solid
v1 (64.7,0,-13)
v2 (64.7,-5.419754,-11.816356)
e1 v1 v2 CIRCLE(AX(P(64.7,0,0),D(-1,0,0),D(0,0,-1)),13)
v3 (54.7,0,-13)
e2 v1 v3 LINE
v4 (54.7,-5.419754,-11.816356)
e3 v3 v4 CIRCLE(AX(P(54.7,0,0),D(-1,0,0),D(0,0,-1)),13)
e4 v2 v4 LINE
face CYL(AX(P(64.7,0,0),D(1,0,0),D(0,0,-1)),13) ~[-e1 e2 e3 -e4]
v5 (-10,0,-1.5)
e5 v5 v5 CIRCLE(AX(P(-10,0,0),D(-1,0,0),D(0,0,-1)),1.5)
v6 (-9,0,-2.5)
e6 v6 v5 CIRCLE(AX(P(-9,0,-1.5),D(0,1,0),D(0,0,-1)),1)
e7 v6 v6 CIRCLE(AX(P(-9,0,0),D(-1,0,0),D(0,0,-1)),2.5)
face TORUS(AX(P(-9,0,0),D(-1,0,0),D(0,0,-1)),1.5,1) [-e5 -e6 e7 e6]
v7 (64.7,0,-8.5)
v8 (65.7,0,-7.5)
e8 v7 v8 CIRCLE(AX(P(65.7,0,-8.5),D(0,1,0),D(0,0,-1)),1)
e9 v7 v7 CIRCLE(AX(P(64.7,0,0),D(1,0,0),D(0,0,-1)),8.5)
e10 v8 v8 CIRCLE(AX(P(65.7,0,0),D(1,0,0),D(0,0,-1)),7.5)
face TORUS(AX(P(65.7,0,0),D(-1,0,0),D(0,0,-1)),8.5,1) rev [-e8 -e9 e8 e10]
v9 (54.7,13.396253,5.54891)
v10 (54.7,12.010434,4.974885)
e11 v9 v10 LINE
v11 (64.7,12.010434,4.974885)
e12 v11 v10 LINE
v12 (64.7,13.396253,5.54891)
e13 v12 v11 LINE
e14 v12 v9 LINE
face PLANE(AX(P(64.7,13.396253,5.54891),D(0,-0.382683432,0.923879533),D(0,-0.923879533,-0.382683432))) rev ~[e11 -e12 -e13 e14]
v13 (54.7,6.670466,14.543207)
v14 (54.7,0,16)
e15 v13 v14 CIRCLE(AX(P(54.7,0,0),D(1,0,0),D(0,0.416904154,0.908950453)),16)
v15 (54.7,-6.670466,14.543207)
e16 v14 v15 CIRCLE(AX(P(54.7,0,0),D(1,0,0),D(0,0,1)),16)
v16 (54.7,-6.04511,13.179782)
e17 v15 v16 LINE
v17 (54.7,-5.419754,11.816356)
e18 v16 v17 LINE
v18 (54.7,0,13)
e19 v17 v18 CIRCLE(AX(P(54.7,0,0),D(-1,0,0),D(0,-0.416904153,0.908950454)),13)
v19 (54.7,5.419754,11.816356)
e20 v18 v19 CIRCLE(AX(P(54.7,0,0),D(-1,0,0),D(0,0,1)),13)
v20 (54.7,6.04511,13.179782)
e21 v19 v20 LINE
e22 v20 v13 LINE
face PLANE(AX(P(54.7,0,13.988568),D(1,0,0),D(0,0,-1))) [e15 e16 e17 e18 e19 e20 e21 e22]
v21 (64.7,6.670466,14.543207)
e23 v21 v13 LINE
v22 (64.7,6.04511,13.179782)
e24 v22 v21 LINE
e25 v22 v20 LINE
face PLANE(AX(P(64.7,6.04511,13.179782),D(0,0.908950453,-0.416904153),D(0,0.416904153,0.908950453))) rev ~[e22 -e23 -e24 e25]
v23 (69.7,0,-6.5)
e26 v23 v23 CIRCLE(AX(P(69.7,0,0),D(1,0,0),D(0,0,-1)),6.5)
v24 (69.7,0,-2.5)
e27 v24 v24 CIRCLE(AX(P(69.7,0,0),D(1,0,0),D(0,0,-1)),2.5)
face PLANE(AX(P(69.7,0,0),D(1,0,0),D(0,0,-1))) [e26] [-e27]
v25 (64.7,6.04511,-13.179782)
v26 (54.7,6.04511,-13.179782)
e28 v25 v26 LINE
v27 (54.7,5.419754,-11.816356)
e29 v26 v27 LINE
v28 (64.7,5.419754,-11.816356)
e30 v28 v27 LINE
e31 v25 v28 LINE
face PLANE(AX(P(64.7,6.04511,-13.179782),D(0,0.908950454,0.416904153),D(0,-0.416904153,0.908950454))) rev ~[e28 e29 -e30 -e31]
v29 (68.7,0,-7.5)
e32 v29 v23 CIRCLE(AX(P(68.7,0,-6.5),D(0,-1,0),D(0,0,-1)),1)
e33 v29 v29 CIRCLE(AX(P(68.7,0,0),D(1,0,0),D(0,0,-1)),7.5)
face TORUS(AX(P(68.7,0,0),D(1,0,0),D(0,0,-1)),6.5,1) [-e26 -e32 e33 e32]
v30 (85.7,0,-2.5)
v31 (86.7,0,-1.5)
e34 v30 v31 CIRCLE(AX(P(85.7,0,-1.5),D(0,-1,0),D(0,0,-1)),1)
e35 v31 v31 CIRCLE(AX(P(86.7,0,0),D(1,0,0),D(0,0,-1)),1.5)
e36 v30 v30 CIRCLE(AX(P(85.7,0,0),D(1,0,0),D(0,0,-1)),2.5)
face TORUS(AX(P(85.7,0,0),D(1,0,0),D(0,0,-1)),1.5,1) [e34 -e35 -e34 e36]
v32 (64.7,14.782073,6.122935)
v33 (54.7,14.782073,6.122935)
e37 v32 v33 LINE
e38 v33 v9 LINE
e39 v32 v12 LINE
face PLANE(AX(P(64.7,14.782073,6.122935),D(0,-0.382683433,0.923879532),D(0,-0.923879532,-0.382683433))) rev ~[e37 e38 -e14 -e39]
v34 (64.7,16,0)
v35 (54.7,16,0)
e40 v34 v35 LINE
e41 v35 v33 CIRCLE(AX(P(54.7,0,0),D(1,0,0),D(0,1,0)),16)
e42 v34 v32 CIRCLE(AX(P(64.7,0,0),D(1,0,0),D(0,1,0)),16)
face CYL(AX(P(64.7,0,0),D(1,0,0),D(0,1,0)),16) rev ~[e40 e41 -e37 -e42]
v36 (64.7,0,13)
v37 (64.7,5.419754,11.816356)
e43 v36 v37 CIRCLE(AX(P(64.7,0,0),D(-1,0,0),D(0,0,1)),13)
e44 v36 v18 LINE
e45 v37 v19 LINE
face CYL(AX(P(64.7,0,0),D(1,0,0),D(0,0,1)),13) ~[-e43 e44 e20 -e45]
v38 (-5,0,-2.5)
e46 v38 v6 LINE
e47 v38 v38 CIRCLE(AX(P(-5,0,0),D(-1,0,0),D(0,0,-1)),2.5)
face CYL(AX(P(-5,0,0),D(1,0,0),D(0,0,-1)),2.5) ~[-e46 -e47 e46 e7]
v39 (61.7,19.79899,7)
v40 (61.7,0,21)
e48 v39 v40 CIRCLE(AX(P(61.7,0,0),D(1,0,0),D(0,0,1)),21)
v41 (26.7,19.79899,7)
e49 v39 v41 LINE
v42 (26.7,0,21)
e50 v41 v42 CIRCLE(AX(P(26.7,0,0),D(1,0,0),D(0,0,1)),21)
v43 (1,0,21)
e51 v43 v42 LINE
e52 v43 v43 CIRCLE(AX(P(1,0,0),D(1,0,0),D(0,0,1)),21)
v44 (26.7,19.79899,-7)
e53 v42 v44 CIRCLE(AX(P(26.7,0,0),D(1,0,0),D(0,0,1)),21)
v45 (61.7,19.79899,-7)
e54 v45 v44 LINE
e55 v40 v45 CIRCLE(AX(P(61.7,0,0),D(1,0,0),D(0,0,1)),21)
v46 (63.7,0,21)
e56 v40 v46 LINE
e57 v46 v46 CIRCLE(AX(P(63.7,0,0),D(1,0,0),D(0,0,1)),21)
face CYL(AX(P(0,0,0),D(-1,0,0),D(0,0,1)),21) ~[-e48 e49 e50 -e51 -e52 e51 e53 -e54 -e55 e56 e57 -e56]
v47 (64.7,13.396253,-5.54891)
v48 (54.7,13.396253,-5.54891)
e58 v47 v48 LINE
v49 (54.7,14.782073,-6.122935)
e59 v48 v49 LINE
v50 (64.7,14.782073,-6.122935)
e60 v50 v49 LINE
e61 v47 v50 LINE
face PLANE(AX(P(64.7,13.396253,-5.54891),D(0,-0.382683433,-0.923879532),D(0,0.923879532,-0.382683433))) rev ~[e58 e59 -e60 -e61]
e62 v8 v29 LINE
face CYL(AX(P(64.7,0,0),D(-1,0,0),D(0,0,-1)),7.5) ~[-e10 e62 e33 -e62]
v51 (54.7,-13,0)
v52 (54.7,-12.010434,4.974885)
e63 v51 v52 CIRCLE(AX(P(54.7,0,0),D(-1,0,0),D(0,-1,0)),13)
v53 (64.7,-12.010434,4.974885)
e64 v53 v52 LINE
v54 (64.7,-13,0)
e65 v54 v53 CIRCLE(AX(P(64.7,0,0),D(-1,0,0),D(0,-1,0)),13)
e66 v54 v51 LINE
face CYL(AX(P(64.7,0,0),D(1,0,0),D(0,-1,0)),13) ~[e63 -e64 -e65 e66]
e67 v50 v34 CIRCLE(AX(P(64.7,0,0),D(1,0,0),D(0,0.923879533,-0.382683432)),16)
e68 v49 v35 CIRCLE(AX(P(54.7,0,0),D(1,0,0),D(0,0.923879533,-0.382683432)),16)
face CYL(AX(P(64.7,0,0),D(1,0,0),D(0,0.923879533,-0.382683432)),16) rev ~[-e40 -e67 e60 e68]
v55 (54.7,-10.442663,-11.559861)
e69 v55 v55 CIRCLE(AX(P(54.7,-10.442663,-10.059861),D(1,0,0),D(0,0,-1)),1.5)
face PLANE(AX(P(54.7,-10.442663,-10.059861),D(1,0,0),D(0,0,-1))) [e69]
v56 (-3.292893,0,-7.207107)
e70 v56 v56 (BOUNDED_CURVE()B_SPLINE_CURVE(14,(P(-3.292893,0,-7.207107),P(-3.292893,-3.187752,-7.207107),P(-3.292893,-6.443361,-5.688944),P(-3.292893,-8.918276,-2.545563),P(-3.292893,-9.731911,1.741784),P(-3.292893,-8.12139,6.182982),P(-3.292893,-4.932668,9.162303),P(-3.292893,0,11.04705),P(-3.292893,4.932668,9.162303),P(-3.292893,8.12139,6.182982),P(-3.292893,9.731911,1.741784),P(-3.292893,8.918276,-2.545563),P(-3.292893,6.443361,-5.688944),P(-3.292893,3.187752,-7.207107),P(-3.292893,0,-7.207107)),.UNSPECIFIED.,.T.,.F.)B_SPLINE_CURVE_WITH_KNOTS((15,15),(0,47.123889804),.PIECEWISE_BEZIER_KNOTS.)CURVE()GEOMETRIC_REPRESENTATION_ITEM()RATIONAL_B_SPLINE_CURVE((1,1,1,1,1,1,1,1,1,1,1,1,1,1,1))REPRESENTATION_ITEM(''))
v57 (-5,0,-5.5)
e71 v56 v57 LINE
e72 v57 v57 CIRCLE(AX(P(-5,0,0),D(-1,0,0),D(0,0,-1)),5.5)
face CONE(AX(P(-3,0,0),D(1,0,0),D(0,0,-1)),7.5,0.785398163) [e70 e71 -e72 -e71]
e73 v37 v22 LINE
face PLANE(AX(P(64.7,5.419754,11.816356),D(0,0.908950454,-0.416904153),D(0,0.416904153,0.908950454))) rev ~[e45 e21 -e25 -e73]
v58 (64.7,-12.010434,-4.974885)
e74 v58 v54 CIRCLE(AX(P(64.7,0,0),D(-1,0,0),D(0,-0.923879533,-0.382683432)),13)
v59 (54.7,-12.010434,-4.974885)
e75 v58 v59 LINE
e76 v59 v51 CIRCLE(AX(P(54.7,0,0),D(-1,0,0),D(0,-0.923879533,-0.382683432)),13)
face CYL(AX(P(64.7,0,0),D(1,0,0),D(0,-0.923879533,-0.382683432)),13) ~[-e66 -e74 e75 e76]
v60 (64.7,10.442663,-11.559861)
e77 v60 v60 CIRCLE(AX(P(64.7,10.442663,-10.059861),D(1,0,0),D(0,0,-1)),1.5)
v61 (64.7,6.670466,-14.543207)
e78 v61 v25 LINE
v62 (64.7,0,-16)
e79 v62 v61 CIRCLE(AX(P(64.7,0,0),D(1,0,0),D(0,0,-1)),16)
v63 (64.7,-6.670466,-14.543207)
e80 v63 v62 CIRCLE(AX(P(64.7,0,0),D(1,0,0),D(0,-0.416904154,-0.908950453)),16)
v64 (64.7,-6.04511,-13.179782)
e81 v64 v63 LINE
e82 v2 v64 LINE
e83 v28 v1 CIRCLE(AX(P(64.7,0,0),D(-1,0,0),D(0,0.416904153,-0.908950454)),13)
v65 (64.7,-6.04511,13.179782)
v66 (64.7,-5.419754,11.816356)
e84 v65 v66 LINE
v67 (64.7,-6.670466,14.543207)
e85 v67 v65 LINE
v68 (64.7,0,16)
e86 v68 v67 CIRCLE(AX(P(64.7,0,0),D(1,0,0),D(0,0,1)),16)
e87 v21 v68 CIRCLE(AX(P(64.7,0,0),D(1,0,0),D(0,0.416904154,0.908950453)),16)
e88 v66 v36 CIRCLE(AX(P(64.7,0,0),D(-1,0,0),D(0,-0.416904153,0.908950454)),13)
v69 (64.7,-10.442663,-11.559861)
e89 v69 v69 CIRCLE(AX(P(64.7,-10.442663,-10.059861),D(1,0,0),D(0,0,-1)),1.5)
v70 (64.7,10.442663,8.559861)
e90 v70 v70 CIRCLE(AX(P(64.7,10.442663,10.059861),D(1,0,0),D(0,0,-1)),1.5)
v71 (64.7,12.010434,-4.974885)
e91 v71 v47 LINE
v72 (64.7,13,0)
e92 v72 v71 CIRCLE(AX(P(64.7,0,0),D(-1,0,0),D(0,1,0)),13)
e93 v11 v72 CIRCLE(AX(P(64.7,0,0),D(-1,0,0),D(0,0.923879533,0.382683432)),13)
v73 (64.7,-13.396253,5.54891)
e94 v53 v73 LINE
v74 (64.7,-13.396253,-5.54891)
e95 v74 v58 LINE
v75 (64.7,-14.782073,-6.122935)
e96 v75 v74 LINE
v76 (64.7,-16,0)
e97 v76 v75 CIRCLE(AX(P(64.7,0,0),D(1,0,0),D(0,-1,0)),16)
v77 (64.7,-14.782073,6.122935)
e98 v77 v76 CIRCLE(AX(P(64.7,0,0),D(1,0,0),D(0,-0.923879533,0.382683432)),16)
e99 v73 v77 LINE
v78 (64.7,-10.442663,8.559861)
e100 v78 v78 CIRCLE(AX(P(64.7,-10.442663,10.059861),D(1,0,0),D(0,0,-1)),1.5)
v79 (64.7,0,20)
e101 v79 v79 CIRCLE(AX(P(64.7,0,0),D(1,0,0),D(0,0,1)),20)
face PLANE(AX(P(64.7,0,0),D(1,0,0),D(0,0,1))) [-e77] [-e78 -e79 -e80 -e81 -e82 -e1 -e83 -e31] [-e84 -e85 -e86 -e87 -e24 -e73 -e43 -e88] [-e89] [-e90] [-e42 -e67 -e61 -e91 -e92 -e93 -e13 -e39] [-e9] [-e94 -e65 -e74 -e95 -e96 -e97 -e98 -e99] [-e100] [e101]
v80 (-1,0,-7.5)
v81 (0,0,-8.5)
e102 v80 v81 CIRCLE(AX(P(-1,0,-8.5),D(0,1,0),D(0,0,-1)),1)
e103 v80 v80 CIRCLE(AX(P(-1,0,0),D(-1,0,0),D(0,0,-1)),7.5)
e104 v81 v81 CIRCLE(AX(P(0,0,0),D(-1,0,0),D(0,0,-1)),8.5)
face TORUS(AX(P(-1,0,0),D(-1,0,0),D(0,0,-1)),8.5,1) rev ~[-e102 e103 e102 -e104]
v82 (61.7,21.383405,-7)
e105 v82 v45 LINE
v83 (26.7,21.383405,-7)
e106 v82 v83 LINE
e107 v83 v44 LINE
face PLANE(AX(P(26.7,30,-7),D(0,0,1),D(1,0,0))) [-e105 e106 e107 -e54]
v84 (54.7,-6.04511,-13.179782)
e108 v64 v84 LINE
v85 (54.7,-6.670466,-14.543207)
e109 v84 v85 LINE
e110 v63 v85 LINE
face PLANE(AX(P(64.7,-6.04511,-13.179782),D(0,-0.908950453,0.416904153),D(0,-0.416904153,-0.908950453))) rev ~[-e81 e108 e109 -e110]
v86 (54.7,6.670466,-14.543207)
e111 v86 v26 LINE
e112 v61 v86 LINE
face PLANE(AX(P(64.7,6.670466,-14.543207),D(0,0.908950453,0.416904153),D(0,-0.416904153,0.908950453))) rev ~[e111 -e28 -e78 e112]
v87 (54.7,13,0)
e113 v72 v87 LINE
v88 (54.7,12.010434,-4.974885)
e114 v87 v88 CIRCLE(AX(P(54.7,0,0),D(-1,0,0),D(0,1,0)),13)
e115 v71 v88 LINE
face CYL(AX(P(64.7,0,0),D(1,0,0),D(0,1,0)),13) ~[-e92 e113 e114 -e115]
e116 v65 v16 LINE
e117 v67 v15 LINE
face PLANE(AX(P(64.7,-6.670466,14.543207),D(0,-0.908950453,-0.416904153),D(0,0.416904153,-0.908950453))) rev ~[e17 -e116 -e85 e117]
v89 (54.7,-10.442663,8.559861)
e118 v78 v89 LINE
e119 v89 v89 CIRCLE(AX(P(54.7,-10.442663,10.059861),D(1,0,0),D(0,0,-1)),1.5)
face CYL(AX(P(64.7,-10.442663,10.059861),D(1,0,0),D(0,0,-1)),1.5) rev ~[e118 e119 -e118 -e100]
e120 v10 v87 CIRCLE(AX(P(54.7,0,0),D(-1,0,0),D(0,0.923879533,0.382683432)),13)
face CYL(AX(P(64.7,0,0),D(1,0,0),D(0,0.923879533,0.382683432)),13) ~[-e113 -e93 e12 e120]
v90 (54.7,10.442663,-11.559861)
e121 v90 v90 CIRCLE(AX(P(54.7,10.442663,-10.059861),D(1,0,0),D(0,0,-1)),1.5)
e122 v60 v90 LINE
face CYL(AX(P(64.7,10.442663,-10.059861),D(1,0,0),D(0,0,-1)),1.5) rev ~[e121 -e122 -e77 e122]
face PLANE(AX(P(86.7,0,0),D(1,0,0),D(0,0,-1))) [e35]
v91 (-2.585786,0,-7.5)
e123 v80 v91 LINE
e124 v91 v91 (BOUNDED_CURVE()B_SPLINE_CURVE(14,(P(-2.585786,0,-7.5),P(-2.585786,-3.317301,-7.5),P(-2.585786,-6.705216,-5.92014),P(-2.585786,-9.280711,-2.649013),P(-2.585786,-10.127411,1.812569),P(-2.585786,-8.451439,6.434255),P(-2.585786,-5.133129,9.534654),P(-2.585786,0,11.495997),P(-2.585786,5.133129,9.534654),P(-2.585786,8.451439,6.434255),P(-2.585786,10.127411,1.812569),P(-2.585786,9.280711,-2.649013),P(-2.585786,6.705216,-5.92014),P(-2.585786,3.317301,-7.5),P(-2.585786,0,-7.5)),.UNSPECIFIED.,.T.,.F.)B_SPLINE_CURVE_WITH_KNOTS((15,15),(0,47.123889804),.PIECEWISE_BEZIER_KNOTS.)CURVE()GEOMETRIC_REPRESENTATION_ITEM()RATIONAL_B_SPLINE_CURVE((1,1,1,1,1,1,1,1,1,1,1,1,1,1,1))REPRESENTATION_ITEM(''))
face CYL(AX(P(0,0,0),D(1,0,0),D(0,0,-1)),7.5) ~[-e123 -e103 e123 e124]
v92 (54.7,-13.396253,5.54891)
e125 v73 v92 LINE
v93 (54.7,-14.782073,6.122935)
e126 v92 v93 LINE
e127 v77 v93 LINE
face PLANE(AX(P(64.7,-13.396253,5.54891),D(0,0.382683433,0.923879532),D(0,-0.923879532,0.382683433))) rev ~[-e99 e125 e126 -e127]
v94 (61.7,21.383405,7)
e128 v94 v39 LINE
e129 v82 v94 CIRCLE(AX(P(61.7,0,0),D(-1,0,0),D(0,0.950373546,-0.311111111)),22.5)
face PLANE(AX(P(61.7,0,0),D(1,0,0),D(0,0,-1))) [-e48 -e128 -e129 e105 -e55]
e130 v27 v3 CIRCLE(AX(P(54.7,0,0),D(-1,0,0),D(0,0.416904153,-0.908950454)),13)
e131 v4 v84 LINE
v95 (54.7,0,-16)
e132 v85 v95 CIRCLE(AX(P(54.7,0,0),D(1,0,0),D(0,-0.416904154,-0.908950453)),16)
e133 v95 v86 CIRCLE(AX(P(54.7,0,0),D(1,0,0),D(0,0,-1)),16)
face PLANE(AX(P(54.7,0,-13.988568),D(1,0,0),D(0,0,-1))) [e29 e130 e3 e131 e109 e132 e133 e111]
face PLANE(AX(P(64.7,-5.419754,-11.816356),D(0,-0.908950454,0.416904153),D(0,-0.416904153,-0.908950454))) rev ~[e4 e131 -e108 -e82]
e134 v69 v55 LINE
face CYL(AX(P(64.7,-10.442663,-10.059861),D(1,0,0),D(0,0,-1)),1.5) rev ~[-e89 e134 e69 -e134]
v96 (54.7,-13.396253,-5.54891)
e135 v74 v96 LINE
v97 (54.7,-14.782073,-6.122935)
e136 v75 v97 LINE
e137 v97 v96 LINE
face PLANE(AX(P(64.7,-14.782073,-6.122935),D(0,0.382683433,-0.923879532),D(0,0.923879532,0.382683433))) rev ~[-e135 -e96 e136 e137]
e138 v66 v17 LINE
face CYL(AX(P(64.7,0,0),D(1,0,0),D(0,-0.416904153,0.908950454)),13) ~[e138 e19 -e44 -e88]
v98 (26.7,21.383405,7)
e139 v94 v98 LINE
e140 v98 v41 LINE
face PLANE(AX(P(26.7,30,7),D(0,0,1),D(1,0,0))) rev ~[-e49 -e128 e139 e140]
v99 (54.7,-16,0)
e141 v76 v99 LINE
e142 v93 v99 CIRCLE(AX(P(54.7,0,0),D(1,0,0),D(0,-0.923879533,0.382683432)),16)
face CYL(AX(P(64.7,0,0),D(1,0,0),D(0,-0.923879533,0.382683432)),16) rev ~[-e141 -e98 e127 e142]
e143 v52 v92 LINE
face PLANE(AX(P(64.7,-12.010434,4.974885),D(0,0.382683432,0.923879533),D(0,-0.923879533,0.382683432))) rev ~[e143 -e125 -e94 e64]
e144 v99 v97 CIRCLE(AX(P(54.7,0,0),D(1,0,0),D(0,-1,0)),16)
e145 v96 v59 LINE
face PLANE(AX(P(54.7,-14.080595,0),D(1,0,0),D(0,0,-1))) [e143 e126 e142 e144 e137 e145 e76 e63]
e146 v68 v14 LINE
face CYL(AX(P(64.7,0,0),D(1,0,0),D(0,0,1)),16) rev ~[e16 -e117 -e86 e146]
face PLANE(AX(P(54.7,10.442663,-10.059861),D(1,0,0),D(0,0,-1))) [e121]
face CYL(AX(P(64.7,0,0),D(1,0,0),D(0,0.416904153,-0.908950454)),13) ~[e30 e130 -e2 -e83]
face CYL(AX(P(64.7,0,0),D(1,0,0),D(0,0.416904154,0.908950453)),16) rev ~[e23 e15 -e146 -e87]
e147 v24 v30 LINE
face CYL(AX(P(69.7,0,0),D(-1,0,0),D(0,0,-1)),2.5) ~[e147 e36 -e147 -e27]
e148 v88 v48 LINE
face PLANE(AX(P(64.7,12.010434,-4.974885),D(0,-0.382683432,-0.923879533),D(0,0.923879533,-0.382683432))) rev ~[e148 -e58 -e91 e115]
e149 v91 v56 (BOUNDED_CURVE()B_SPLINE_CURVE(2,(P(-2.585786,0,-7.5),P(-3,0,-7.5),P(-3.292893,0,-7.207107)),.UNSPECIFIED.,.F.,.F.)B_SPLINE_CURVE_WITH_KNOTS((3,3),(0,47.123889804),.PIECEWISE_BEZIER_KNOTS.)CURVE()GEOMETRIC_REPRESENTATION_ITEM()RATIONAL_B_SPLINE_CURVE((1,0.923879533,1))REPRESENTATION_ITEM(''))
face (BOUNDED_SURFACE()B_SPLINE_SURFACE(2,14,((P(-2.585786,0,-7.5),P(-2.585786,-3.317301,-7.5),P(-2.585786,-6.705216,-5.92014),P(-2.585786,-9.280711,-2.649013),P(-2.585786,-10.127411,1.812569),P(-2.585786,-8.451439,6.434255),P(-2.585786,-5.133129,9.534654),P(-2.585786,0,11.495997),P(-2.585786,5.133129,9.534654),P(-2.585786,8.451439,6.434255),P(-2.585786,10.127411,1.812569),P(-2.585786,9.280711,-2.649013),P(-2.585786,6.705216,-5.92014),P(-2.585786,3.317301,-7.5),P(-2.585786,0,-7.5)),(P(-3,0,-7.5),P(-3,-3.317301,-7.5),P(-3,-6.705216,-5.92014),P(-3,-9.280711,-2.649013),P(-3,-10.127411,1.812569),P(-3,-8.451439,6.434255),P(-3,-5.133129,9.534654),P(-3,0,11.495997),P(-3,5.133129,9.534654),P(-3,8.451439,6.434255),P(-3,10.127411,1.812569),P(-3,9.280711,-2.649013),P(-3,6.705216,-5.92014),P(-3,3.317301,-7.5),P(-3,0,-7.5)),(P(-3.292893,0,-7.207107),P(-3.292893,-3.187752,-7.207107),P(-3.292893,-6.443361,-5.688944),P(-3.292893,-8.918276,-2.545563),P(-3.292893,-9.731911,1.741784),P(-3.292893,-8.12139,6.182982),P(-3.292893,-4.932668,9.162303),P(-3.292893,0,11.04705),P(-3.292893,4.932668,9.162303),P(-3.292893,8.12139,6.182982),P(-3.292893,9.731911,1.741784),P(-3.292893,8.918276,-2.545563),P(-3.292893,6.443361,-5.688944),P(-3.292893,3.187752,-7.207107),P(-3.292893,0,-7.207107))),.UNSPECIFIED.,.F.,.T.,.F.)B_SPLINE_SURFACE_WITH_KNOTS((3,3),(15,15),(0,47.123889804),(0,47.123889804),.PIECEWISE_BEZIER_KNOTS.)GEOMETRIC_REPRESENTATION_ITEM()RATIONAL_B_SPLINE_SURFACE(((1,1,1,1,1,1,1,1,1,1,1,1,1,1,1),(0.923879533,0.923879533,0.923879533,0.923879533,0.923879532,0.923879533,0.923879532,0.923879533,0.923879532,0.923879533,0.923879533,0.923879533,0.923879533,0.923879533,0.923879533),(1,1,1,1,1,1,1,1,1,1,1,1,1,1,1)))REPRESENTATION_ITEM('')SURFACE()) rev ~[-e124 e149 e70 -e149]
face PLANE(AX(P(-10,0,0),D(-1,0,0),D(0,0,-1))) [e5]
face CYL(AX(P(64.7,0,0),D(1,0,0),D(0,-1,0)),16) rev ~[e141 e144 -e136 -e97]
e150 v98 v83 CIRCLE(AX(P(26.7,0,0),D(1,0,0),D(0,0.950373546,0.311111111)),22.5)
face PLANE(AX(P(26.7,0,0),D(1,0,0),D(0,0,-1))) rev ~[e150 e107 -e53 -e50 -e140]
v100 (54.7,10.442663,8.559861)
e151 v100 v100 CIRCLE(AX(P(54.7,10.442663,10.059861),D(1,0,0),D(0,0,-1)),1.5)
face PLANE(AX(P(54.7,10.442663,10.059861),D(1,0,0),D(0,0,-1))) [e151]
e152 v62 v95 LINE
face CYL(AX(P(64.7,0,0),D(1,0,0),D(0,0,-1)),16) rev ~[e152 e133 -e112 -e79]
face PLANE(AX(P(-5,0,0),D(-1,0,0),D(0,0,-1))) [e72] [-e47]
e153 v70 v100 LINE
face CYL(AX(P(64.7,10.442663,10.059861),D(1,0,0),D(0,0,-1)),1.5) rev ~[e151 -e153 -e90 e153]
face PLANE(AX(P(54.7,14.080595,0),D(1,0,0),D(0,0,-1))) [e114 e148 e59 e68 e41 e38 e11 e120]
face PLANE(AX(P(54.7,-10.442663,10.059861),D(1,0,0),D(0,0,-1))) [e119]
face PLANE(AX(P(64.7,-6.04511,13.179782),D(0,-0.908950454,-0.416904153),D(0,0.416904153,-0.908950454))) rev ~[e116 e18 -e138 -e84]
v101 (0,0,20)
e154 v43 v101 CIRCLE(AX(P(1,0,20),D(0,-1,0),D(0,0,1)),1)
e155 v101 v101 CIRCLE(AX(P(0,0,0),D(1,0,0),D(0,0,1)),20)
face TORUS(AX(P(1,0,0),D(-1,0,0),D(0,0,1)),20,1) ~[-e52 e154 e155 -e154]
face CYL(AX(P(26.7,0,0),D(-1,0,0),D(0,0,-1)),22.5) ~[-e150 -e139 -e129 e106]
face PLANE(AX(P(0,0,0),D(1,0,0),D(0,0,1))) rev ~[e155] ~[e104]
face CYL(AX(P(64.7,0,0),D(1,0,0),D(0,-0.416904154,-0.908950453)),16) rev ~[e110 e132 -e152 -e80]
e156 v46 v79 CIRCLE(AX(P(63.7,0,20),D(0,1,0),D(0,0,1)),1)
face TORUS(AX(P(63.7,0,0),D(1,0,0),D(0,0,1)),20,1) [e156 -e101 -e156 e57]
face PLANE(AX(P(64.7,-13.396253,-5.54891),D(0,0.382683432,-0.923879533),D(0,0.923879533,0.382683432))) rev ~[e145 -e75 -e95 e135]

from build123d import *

# Parameters (mm, degrees)
SKETCH1_R               = 21
BOSS_EXTRUDE1_DEPTH     = 26.7
SKETCH2_R               = 22.5
BOSS_EXTRUDE2_DEPTH     = 35
SKETCH3_R               = 21
BOSS_EXTRUDE3_DEPTH     = 3
SKETCH4_R               = 7.5
BOSS_EXTRUDE4_DEPTH     = 5
SKETCH5_R               = 2.5
BOSS_EXTRUDE5_DEPTH     = 17
CUT_EXTRUDE1_REACH      = 105.824
CUT_EXTRUDE1_END_RADIUS = 21
SKETCH6_W               = 35
SKETCH6_H               = 14
FILLET1_R               = 1
SKETCH7_R               = 7.5
BOSS_EXTRUDE6_DEPTH     = 5
SKETCH8_R               = 2.5
BOSS_EXTRUDE7_DEPTH     = 5
CHAMFER1_SIZE           = 2
FILLET2_R               = 1
SKETCH9_R               = 1.5
CUT_EXTRUDE2_DEPTH      = 10


with BuildPart() as part:
    # Sketch1 → Boss-Extrude1 (new body)
    with BuildSketch(Plane(origin=(0, 0, 0), x_dir=(0, 0, -1), z_dir=(1, 0, 0))):
        with Locations(Location((0, 0, 0), (0, 0, 180))):
            Circle(SKETCH1_R)
    extrude(amount=BOSS_EXTRUDE1_DEPTH)

    # Sketch2 → Boss-Extrude2 (add)
    with BuildSketch(Plane(origin=(26.7, 0, 0), x_dir=(0, 0, -1), z_dir=(1, 0, 0))):
        Circle(SKETCH2_R)
    extrude(amount=BOSS_EXTRUDE2_DEPTH)

    # Sketch3 → Boss-Extrude3 (add)
    with BuildSketch(Plane(origin=(61.7, 0, 0), x_dir=(0, 0, -1), z_dir=(1, 0, 0))):
        with Locations(Location((0, 0, 0), (0, 0, 180))):
            Circle(SKETCH3_R)
    extrude(amount=BOSS_EXTRUDE3_DEPTH)

    # Sketch4 → Boss-Extrude4 (add)
    with BuildSketch(Plane(origin=(64.7, 0, 0), x_dir=(0, 0, -1), z_dir=(1, 0, 0))):
        Circle(SKETCH4_R)
    extrude(amount=BOSS_EXTRUDE4_DEPTH)

    # Sketch5 → Boss-Extrude5 (add)
    with BuildSketch(Plane(origin=(69.7, 0, 0), x_dir=(0, 0, -1), z_dir=(1, 0, 0))):
        Circle(SKETCH5_R)
    extrude(amount=BOSS_EXTRUDE5_DEPTH)

    # Cut-Extrude1: up to this cylinder (the profile starts outside it)
    cut_extrude1_end = Plane(origin=(44.2, 0, 0), z_dir=(-1, 0, 0)) * Cylinder(CUT_EXTRUDE1_END_RADIUS, 254.648, mode=Mode.PRIVATE)
    # Sketch6 → Cut-Extrude1 (cut, up to the surface)
    with BuildSketch(Plane(origin=(0, 30, 0), x_dir=(1, 0, 0), z_dir=(0, 1, 0)), mode=Mode.PRIVATE) as cut_extrude1_sk1:
        with Locations((44.2, 0)):
            Rectangle(SKETCH6_W, SKETCH6_H)
    cut_extrude1_tool1 = extrude(cut_extrude1_sk1.sketch, amount=-CUT_EXTRUDE1_REACH, mode=Mode.PRIVATE) - cut_extrude1_end
    add(cut_extrude1_tool1.solids().sort_by_distance((44.2, 30, 0))[0], mode=Mode.SUBTRACT)

    # Fillet1
    fillet1_edges = [part.edges().sort_by_distance(p)[0] for p in [
        (64.7, 0, -21),
        (64.7, 0, 7.5),
        (69.7, 0, 7.5),
        (0, 0, -21),
    ]]
    fillet(fillet1_edges, radius=FILLET1_R)

    # Sketch7 → Boss-Extrude6 (add)
    with BuildSketch(Plane.ZY):
        with Locations(Location((0, 0, 0), (0, 0, 180))):
            Circle(SKETCH7_R)
    extrude(amount=BOSS_EXTRUDE6_DEPTH)

    # Sketch8 → Boss-Extrude7 (add)
    with BuildSketch(Plane.ZY.offset(5)):
        with Locations(Location((0, 0, 0), (0, 0, 180))):
            Circle(SKETCH8_R)
    extrude(amount=BOSS_EXTRUDE7_DEPTH)

    # Chamfer1
    chamfer1_edges = [part.edges().sort_by_distance(p)[0] for p in [
        (-5, 0, 7.5),
    ]]
    chamfer(chamfer1_edges, length=CHAMFER1_SIZE)

    # Fillet2
    fillet2_edges = [part.edges().sort_by_distance(p)[0] for p in [
        (86.7, 0, 2.5),
        (0, 0, 7.5),
        (-10, 0, 2.5),
        (-3, 0, 7.5),
    ]]
    fillet(fillet2_edges, radius=FILLET2_R)

    # Sketch9 → Cut-Extrude2 (cut)
    with BuildSketch(Plane(origin=(64.7, 0, 0), x_dir=(0, 0, -1), z_dir=(1, 0, 0))):
        with Locations((-10.059860621, 10.442662701)):
            Circle(SKETCH9_R)
        with BuildLine():
            ThreePointArc((-4.974884621, 12.010433923), (-2.536174186, 12.750208645), (0, 13))
            ThreePointArc((0, 13), (2.536174186, 12.750208645), (4.974884621, 12.010433923))
            Line((4.974884621, 12.010433923), (5.548909769, 13.396253221))
            Line((5.548909769, 13.396253221), (6.122934918, 14.78207252))
            ThreePointArc((6.122934918, 14.78207252), (3.121445152, 15.692564486), (0, 16))
            ThreePointArc((0, 16), (-3.121445152, 15.692564486), (-6.122934918, 14.78207252))
            Line((-6.122934918, 14.78207252), (-5.548909769, 13.396253221))
            Line((-5.548909769, 13.396253221), (-4.974884621, 12.010433923))
        make_face()
        with Locations((10.059860621, 10.442662701)):
            Circle(SKETCH9_R)
        with BuildLine():
            ThreePointArc((11.816355895, 5.419753994), (12.70064224, 2.773749571), (13, 0))
            ThreePointArc((13, 0), (12.70064224, -2.773749571), (11.816355895, -5.419753994))
            Line((11.816355895, -5.419753994), (13.179781576, -6.045110224))
            Line((13.179781576, -6.045110224), (14.543207256, -6.670466454))
            ThreePointArc((14.543207256, -6.670466454), (15.631559681, -3.413845625), (16, 0))
            ThreePointArc((16, 0), (15.631559681, 3.413845625), (14.543207256, 6.670466454))
            Line((14.543207256, 6.670466454), (13.179781576, 6.045110224))
            Line((13.179781576, 6.045110224), (11.816355895, 5.419753994))
        make_face()
        with Locations((10.059860621, -10.442662701)):
            Circle(SKETCH9_R)
        with BuildLine():
            ThreePointArc((4.974884621, -12.010433923), (2.536174186, -12.750208645), (0, -13))
            ThreePointArc((0, -13), (-2.536174186, -12.750208645), (-4.974884621, -12.010433923))
            Line((-4.974884621, -12.010433923), (-5.548909769, -13.396253221))
            Line((-5.548909769, -13.396253221), (-6.122934918, -14.78207252))
            ThreePointArc((-6.122934918, -14.78207252), (-3.121445152, -15.692564486), (0, -16))
            ThreePointArc((0, -16), (3.121445152, -15.692564486), (6.122934918, -14.78207252))
            Line((6.122934918, -14.78207252), (5.548909769, -13.396253221))
            Line((5.548909769, -13.396253221), (4.974884621, -12.010433923))
        make_face()
        with Locations((-10.059860621, -10.442662701)):
            Circle(SKETCH9_R)
        with BuildLine():
            ThreePointArc((-11.816355895, -5.419753994), (-12.70064224, -2.773749571), (-13, 0))
            ThreePointArc((-13, 0), (-12.70064224, 2.773749571), (-11.816355895, 5.419753994))
            Line((-11.816355895, 5.419753994), (-13.179781576, 6.045110224))
            Line((-13.179781576, 6.045110224), (-14.543207256, 6.670466454))
            ThreePointArc((-14.543207256, 6.670466454), (-15.631559681, 3.413845625), (-16, 0))
            ThreePointArc((-16, 0), (-15.631559681, -3.413845625), (-14.543207256, -6.670466454))
            Line((-14.543207256, -6.670466454), (-13.179781576, -6.045110224))
            Line((-13.179781576, -6.045110224), (-11.816355895, -5.419753994))
        make_face()
    extrude(amount=-CUT_EXTRUDE2_DEPTH, mode=Mode.SUBTRACT)


solid = part.part
